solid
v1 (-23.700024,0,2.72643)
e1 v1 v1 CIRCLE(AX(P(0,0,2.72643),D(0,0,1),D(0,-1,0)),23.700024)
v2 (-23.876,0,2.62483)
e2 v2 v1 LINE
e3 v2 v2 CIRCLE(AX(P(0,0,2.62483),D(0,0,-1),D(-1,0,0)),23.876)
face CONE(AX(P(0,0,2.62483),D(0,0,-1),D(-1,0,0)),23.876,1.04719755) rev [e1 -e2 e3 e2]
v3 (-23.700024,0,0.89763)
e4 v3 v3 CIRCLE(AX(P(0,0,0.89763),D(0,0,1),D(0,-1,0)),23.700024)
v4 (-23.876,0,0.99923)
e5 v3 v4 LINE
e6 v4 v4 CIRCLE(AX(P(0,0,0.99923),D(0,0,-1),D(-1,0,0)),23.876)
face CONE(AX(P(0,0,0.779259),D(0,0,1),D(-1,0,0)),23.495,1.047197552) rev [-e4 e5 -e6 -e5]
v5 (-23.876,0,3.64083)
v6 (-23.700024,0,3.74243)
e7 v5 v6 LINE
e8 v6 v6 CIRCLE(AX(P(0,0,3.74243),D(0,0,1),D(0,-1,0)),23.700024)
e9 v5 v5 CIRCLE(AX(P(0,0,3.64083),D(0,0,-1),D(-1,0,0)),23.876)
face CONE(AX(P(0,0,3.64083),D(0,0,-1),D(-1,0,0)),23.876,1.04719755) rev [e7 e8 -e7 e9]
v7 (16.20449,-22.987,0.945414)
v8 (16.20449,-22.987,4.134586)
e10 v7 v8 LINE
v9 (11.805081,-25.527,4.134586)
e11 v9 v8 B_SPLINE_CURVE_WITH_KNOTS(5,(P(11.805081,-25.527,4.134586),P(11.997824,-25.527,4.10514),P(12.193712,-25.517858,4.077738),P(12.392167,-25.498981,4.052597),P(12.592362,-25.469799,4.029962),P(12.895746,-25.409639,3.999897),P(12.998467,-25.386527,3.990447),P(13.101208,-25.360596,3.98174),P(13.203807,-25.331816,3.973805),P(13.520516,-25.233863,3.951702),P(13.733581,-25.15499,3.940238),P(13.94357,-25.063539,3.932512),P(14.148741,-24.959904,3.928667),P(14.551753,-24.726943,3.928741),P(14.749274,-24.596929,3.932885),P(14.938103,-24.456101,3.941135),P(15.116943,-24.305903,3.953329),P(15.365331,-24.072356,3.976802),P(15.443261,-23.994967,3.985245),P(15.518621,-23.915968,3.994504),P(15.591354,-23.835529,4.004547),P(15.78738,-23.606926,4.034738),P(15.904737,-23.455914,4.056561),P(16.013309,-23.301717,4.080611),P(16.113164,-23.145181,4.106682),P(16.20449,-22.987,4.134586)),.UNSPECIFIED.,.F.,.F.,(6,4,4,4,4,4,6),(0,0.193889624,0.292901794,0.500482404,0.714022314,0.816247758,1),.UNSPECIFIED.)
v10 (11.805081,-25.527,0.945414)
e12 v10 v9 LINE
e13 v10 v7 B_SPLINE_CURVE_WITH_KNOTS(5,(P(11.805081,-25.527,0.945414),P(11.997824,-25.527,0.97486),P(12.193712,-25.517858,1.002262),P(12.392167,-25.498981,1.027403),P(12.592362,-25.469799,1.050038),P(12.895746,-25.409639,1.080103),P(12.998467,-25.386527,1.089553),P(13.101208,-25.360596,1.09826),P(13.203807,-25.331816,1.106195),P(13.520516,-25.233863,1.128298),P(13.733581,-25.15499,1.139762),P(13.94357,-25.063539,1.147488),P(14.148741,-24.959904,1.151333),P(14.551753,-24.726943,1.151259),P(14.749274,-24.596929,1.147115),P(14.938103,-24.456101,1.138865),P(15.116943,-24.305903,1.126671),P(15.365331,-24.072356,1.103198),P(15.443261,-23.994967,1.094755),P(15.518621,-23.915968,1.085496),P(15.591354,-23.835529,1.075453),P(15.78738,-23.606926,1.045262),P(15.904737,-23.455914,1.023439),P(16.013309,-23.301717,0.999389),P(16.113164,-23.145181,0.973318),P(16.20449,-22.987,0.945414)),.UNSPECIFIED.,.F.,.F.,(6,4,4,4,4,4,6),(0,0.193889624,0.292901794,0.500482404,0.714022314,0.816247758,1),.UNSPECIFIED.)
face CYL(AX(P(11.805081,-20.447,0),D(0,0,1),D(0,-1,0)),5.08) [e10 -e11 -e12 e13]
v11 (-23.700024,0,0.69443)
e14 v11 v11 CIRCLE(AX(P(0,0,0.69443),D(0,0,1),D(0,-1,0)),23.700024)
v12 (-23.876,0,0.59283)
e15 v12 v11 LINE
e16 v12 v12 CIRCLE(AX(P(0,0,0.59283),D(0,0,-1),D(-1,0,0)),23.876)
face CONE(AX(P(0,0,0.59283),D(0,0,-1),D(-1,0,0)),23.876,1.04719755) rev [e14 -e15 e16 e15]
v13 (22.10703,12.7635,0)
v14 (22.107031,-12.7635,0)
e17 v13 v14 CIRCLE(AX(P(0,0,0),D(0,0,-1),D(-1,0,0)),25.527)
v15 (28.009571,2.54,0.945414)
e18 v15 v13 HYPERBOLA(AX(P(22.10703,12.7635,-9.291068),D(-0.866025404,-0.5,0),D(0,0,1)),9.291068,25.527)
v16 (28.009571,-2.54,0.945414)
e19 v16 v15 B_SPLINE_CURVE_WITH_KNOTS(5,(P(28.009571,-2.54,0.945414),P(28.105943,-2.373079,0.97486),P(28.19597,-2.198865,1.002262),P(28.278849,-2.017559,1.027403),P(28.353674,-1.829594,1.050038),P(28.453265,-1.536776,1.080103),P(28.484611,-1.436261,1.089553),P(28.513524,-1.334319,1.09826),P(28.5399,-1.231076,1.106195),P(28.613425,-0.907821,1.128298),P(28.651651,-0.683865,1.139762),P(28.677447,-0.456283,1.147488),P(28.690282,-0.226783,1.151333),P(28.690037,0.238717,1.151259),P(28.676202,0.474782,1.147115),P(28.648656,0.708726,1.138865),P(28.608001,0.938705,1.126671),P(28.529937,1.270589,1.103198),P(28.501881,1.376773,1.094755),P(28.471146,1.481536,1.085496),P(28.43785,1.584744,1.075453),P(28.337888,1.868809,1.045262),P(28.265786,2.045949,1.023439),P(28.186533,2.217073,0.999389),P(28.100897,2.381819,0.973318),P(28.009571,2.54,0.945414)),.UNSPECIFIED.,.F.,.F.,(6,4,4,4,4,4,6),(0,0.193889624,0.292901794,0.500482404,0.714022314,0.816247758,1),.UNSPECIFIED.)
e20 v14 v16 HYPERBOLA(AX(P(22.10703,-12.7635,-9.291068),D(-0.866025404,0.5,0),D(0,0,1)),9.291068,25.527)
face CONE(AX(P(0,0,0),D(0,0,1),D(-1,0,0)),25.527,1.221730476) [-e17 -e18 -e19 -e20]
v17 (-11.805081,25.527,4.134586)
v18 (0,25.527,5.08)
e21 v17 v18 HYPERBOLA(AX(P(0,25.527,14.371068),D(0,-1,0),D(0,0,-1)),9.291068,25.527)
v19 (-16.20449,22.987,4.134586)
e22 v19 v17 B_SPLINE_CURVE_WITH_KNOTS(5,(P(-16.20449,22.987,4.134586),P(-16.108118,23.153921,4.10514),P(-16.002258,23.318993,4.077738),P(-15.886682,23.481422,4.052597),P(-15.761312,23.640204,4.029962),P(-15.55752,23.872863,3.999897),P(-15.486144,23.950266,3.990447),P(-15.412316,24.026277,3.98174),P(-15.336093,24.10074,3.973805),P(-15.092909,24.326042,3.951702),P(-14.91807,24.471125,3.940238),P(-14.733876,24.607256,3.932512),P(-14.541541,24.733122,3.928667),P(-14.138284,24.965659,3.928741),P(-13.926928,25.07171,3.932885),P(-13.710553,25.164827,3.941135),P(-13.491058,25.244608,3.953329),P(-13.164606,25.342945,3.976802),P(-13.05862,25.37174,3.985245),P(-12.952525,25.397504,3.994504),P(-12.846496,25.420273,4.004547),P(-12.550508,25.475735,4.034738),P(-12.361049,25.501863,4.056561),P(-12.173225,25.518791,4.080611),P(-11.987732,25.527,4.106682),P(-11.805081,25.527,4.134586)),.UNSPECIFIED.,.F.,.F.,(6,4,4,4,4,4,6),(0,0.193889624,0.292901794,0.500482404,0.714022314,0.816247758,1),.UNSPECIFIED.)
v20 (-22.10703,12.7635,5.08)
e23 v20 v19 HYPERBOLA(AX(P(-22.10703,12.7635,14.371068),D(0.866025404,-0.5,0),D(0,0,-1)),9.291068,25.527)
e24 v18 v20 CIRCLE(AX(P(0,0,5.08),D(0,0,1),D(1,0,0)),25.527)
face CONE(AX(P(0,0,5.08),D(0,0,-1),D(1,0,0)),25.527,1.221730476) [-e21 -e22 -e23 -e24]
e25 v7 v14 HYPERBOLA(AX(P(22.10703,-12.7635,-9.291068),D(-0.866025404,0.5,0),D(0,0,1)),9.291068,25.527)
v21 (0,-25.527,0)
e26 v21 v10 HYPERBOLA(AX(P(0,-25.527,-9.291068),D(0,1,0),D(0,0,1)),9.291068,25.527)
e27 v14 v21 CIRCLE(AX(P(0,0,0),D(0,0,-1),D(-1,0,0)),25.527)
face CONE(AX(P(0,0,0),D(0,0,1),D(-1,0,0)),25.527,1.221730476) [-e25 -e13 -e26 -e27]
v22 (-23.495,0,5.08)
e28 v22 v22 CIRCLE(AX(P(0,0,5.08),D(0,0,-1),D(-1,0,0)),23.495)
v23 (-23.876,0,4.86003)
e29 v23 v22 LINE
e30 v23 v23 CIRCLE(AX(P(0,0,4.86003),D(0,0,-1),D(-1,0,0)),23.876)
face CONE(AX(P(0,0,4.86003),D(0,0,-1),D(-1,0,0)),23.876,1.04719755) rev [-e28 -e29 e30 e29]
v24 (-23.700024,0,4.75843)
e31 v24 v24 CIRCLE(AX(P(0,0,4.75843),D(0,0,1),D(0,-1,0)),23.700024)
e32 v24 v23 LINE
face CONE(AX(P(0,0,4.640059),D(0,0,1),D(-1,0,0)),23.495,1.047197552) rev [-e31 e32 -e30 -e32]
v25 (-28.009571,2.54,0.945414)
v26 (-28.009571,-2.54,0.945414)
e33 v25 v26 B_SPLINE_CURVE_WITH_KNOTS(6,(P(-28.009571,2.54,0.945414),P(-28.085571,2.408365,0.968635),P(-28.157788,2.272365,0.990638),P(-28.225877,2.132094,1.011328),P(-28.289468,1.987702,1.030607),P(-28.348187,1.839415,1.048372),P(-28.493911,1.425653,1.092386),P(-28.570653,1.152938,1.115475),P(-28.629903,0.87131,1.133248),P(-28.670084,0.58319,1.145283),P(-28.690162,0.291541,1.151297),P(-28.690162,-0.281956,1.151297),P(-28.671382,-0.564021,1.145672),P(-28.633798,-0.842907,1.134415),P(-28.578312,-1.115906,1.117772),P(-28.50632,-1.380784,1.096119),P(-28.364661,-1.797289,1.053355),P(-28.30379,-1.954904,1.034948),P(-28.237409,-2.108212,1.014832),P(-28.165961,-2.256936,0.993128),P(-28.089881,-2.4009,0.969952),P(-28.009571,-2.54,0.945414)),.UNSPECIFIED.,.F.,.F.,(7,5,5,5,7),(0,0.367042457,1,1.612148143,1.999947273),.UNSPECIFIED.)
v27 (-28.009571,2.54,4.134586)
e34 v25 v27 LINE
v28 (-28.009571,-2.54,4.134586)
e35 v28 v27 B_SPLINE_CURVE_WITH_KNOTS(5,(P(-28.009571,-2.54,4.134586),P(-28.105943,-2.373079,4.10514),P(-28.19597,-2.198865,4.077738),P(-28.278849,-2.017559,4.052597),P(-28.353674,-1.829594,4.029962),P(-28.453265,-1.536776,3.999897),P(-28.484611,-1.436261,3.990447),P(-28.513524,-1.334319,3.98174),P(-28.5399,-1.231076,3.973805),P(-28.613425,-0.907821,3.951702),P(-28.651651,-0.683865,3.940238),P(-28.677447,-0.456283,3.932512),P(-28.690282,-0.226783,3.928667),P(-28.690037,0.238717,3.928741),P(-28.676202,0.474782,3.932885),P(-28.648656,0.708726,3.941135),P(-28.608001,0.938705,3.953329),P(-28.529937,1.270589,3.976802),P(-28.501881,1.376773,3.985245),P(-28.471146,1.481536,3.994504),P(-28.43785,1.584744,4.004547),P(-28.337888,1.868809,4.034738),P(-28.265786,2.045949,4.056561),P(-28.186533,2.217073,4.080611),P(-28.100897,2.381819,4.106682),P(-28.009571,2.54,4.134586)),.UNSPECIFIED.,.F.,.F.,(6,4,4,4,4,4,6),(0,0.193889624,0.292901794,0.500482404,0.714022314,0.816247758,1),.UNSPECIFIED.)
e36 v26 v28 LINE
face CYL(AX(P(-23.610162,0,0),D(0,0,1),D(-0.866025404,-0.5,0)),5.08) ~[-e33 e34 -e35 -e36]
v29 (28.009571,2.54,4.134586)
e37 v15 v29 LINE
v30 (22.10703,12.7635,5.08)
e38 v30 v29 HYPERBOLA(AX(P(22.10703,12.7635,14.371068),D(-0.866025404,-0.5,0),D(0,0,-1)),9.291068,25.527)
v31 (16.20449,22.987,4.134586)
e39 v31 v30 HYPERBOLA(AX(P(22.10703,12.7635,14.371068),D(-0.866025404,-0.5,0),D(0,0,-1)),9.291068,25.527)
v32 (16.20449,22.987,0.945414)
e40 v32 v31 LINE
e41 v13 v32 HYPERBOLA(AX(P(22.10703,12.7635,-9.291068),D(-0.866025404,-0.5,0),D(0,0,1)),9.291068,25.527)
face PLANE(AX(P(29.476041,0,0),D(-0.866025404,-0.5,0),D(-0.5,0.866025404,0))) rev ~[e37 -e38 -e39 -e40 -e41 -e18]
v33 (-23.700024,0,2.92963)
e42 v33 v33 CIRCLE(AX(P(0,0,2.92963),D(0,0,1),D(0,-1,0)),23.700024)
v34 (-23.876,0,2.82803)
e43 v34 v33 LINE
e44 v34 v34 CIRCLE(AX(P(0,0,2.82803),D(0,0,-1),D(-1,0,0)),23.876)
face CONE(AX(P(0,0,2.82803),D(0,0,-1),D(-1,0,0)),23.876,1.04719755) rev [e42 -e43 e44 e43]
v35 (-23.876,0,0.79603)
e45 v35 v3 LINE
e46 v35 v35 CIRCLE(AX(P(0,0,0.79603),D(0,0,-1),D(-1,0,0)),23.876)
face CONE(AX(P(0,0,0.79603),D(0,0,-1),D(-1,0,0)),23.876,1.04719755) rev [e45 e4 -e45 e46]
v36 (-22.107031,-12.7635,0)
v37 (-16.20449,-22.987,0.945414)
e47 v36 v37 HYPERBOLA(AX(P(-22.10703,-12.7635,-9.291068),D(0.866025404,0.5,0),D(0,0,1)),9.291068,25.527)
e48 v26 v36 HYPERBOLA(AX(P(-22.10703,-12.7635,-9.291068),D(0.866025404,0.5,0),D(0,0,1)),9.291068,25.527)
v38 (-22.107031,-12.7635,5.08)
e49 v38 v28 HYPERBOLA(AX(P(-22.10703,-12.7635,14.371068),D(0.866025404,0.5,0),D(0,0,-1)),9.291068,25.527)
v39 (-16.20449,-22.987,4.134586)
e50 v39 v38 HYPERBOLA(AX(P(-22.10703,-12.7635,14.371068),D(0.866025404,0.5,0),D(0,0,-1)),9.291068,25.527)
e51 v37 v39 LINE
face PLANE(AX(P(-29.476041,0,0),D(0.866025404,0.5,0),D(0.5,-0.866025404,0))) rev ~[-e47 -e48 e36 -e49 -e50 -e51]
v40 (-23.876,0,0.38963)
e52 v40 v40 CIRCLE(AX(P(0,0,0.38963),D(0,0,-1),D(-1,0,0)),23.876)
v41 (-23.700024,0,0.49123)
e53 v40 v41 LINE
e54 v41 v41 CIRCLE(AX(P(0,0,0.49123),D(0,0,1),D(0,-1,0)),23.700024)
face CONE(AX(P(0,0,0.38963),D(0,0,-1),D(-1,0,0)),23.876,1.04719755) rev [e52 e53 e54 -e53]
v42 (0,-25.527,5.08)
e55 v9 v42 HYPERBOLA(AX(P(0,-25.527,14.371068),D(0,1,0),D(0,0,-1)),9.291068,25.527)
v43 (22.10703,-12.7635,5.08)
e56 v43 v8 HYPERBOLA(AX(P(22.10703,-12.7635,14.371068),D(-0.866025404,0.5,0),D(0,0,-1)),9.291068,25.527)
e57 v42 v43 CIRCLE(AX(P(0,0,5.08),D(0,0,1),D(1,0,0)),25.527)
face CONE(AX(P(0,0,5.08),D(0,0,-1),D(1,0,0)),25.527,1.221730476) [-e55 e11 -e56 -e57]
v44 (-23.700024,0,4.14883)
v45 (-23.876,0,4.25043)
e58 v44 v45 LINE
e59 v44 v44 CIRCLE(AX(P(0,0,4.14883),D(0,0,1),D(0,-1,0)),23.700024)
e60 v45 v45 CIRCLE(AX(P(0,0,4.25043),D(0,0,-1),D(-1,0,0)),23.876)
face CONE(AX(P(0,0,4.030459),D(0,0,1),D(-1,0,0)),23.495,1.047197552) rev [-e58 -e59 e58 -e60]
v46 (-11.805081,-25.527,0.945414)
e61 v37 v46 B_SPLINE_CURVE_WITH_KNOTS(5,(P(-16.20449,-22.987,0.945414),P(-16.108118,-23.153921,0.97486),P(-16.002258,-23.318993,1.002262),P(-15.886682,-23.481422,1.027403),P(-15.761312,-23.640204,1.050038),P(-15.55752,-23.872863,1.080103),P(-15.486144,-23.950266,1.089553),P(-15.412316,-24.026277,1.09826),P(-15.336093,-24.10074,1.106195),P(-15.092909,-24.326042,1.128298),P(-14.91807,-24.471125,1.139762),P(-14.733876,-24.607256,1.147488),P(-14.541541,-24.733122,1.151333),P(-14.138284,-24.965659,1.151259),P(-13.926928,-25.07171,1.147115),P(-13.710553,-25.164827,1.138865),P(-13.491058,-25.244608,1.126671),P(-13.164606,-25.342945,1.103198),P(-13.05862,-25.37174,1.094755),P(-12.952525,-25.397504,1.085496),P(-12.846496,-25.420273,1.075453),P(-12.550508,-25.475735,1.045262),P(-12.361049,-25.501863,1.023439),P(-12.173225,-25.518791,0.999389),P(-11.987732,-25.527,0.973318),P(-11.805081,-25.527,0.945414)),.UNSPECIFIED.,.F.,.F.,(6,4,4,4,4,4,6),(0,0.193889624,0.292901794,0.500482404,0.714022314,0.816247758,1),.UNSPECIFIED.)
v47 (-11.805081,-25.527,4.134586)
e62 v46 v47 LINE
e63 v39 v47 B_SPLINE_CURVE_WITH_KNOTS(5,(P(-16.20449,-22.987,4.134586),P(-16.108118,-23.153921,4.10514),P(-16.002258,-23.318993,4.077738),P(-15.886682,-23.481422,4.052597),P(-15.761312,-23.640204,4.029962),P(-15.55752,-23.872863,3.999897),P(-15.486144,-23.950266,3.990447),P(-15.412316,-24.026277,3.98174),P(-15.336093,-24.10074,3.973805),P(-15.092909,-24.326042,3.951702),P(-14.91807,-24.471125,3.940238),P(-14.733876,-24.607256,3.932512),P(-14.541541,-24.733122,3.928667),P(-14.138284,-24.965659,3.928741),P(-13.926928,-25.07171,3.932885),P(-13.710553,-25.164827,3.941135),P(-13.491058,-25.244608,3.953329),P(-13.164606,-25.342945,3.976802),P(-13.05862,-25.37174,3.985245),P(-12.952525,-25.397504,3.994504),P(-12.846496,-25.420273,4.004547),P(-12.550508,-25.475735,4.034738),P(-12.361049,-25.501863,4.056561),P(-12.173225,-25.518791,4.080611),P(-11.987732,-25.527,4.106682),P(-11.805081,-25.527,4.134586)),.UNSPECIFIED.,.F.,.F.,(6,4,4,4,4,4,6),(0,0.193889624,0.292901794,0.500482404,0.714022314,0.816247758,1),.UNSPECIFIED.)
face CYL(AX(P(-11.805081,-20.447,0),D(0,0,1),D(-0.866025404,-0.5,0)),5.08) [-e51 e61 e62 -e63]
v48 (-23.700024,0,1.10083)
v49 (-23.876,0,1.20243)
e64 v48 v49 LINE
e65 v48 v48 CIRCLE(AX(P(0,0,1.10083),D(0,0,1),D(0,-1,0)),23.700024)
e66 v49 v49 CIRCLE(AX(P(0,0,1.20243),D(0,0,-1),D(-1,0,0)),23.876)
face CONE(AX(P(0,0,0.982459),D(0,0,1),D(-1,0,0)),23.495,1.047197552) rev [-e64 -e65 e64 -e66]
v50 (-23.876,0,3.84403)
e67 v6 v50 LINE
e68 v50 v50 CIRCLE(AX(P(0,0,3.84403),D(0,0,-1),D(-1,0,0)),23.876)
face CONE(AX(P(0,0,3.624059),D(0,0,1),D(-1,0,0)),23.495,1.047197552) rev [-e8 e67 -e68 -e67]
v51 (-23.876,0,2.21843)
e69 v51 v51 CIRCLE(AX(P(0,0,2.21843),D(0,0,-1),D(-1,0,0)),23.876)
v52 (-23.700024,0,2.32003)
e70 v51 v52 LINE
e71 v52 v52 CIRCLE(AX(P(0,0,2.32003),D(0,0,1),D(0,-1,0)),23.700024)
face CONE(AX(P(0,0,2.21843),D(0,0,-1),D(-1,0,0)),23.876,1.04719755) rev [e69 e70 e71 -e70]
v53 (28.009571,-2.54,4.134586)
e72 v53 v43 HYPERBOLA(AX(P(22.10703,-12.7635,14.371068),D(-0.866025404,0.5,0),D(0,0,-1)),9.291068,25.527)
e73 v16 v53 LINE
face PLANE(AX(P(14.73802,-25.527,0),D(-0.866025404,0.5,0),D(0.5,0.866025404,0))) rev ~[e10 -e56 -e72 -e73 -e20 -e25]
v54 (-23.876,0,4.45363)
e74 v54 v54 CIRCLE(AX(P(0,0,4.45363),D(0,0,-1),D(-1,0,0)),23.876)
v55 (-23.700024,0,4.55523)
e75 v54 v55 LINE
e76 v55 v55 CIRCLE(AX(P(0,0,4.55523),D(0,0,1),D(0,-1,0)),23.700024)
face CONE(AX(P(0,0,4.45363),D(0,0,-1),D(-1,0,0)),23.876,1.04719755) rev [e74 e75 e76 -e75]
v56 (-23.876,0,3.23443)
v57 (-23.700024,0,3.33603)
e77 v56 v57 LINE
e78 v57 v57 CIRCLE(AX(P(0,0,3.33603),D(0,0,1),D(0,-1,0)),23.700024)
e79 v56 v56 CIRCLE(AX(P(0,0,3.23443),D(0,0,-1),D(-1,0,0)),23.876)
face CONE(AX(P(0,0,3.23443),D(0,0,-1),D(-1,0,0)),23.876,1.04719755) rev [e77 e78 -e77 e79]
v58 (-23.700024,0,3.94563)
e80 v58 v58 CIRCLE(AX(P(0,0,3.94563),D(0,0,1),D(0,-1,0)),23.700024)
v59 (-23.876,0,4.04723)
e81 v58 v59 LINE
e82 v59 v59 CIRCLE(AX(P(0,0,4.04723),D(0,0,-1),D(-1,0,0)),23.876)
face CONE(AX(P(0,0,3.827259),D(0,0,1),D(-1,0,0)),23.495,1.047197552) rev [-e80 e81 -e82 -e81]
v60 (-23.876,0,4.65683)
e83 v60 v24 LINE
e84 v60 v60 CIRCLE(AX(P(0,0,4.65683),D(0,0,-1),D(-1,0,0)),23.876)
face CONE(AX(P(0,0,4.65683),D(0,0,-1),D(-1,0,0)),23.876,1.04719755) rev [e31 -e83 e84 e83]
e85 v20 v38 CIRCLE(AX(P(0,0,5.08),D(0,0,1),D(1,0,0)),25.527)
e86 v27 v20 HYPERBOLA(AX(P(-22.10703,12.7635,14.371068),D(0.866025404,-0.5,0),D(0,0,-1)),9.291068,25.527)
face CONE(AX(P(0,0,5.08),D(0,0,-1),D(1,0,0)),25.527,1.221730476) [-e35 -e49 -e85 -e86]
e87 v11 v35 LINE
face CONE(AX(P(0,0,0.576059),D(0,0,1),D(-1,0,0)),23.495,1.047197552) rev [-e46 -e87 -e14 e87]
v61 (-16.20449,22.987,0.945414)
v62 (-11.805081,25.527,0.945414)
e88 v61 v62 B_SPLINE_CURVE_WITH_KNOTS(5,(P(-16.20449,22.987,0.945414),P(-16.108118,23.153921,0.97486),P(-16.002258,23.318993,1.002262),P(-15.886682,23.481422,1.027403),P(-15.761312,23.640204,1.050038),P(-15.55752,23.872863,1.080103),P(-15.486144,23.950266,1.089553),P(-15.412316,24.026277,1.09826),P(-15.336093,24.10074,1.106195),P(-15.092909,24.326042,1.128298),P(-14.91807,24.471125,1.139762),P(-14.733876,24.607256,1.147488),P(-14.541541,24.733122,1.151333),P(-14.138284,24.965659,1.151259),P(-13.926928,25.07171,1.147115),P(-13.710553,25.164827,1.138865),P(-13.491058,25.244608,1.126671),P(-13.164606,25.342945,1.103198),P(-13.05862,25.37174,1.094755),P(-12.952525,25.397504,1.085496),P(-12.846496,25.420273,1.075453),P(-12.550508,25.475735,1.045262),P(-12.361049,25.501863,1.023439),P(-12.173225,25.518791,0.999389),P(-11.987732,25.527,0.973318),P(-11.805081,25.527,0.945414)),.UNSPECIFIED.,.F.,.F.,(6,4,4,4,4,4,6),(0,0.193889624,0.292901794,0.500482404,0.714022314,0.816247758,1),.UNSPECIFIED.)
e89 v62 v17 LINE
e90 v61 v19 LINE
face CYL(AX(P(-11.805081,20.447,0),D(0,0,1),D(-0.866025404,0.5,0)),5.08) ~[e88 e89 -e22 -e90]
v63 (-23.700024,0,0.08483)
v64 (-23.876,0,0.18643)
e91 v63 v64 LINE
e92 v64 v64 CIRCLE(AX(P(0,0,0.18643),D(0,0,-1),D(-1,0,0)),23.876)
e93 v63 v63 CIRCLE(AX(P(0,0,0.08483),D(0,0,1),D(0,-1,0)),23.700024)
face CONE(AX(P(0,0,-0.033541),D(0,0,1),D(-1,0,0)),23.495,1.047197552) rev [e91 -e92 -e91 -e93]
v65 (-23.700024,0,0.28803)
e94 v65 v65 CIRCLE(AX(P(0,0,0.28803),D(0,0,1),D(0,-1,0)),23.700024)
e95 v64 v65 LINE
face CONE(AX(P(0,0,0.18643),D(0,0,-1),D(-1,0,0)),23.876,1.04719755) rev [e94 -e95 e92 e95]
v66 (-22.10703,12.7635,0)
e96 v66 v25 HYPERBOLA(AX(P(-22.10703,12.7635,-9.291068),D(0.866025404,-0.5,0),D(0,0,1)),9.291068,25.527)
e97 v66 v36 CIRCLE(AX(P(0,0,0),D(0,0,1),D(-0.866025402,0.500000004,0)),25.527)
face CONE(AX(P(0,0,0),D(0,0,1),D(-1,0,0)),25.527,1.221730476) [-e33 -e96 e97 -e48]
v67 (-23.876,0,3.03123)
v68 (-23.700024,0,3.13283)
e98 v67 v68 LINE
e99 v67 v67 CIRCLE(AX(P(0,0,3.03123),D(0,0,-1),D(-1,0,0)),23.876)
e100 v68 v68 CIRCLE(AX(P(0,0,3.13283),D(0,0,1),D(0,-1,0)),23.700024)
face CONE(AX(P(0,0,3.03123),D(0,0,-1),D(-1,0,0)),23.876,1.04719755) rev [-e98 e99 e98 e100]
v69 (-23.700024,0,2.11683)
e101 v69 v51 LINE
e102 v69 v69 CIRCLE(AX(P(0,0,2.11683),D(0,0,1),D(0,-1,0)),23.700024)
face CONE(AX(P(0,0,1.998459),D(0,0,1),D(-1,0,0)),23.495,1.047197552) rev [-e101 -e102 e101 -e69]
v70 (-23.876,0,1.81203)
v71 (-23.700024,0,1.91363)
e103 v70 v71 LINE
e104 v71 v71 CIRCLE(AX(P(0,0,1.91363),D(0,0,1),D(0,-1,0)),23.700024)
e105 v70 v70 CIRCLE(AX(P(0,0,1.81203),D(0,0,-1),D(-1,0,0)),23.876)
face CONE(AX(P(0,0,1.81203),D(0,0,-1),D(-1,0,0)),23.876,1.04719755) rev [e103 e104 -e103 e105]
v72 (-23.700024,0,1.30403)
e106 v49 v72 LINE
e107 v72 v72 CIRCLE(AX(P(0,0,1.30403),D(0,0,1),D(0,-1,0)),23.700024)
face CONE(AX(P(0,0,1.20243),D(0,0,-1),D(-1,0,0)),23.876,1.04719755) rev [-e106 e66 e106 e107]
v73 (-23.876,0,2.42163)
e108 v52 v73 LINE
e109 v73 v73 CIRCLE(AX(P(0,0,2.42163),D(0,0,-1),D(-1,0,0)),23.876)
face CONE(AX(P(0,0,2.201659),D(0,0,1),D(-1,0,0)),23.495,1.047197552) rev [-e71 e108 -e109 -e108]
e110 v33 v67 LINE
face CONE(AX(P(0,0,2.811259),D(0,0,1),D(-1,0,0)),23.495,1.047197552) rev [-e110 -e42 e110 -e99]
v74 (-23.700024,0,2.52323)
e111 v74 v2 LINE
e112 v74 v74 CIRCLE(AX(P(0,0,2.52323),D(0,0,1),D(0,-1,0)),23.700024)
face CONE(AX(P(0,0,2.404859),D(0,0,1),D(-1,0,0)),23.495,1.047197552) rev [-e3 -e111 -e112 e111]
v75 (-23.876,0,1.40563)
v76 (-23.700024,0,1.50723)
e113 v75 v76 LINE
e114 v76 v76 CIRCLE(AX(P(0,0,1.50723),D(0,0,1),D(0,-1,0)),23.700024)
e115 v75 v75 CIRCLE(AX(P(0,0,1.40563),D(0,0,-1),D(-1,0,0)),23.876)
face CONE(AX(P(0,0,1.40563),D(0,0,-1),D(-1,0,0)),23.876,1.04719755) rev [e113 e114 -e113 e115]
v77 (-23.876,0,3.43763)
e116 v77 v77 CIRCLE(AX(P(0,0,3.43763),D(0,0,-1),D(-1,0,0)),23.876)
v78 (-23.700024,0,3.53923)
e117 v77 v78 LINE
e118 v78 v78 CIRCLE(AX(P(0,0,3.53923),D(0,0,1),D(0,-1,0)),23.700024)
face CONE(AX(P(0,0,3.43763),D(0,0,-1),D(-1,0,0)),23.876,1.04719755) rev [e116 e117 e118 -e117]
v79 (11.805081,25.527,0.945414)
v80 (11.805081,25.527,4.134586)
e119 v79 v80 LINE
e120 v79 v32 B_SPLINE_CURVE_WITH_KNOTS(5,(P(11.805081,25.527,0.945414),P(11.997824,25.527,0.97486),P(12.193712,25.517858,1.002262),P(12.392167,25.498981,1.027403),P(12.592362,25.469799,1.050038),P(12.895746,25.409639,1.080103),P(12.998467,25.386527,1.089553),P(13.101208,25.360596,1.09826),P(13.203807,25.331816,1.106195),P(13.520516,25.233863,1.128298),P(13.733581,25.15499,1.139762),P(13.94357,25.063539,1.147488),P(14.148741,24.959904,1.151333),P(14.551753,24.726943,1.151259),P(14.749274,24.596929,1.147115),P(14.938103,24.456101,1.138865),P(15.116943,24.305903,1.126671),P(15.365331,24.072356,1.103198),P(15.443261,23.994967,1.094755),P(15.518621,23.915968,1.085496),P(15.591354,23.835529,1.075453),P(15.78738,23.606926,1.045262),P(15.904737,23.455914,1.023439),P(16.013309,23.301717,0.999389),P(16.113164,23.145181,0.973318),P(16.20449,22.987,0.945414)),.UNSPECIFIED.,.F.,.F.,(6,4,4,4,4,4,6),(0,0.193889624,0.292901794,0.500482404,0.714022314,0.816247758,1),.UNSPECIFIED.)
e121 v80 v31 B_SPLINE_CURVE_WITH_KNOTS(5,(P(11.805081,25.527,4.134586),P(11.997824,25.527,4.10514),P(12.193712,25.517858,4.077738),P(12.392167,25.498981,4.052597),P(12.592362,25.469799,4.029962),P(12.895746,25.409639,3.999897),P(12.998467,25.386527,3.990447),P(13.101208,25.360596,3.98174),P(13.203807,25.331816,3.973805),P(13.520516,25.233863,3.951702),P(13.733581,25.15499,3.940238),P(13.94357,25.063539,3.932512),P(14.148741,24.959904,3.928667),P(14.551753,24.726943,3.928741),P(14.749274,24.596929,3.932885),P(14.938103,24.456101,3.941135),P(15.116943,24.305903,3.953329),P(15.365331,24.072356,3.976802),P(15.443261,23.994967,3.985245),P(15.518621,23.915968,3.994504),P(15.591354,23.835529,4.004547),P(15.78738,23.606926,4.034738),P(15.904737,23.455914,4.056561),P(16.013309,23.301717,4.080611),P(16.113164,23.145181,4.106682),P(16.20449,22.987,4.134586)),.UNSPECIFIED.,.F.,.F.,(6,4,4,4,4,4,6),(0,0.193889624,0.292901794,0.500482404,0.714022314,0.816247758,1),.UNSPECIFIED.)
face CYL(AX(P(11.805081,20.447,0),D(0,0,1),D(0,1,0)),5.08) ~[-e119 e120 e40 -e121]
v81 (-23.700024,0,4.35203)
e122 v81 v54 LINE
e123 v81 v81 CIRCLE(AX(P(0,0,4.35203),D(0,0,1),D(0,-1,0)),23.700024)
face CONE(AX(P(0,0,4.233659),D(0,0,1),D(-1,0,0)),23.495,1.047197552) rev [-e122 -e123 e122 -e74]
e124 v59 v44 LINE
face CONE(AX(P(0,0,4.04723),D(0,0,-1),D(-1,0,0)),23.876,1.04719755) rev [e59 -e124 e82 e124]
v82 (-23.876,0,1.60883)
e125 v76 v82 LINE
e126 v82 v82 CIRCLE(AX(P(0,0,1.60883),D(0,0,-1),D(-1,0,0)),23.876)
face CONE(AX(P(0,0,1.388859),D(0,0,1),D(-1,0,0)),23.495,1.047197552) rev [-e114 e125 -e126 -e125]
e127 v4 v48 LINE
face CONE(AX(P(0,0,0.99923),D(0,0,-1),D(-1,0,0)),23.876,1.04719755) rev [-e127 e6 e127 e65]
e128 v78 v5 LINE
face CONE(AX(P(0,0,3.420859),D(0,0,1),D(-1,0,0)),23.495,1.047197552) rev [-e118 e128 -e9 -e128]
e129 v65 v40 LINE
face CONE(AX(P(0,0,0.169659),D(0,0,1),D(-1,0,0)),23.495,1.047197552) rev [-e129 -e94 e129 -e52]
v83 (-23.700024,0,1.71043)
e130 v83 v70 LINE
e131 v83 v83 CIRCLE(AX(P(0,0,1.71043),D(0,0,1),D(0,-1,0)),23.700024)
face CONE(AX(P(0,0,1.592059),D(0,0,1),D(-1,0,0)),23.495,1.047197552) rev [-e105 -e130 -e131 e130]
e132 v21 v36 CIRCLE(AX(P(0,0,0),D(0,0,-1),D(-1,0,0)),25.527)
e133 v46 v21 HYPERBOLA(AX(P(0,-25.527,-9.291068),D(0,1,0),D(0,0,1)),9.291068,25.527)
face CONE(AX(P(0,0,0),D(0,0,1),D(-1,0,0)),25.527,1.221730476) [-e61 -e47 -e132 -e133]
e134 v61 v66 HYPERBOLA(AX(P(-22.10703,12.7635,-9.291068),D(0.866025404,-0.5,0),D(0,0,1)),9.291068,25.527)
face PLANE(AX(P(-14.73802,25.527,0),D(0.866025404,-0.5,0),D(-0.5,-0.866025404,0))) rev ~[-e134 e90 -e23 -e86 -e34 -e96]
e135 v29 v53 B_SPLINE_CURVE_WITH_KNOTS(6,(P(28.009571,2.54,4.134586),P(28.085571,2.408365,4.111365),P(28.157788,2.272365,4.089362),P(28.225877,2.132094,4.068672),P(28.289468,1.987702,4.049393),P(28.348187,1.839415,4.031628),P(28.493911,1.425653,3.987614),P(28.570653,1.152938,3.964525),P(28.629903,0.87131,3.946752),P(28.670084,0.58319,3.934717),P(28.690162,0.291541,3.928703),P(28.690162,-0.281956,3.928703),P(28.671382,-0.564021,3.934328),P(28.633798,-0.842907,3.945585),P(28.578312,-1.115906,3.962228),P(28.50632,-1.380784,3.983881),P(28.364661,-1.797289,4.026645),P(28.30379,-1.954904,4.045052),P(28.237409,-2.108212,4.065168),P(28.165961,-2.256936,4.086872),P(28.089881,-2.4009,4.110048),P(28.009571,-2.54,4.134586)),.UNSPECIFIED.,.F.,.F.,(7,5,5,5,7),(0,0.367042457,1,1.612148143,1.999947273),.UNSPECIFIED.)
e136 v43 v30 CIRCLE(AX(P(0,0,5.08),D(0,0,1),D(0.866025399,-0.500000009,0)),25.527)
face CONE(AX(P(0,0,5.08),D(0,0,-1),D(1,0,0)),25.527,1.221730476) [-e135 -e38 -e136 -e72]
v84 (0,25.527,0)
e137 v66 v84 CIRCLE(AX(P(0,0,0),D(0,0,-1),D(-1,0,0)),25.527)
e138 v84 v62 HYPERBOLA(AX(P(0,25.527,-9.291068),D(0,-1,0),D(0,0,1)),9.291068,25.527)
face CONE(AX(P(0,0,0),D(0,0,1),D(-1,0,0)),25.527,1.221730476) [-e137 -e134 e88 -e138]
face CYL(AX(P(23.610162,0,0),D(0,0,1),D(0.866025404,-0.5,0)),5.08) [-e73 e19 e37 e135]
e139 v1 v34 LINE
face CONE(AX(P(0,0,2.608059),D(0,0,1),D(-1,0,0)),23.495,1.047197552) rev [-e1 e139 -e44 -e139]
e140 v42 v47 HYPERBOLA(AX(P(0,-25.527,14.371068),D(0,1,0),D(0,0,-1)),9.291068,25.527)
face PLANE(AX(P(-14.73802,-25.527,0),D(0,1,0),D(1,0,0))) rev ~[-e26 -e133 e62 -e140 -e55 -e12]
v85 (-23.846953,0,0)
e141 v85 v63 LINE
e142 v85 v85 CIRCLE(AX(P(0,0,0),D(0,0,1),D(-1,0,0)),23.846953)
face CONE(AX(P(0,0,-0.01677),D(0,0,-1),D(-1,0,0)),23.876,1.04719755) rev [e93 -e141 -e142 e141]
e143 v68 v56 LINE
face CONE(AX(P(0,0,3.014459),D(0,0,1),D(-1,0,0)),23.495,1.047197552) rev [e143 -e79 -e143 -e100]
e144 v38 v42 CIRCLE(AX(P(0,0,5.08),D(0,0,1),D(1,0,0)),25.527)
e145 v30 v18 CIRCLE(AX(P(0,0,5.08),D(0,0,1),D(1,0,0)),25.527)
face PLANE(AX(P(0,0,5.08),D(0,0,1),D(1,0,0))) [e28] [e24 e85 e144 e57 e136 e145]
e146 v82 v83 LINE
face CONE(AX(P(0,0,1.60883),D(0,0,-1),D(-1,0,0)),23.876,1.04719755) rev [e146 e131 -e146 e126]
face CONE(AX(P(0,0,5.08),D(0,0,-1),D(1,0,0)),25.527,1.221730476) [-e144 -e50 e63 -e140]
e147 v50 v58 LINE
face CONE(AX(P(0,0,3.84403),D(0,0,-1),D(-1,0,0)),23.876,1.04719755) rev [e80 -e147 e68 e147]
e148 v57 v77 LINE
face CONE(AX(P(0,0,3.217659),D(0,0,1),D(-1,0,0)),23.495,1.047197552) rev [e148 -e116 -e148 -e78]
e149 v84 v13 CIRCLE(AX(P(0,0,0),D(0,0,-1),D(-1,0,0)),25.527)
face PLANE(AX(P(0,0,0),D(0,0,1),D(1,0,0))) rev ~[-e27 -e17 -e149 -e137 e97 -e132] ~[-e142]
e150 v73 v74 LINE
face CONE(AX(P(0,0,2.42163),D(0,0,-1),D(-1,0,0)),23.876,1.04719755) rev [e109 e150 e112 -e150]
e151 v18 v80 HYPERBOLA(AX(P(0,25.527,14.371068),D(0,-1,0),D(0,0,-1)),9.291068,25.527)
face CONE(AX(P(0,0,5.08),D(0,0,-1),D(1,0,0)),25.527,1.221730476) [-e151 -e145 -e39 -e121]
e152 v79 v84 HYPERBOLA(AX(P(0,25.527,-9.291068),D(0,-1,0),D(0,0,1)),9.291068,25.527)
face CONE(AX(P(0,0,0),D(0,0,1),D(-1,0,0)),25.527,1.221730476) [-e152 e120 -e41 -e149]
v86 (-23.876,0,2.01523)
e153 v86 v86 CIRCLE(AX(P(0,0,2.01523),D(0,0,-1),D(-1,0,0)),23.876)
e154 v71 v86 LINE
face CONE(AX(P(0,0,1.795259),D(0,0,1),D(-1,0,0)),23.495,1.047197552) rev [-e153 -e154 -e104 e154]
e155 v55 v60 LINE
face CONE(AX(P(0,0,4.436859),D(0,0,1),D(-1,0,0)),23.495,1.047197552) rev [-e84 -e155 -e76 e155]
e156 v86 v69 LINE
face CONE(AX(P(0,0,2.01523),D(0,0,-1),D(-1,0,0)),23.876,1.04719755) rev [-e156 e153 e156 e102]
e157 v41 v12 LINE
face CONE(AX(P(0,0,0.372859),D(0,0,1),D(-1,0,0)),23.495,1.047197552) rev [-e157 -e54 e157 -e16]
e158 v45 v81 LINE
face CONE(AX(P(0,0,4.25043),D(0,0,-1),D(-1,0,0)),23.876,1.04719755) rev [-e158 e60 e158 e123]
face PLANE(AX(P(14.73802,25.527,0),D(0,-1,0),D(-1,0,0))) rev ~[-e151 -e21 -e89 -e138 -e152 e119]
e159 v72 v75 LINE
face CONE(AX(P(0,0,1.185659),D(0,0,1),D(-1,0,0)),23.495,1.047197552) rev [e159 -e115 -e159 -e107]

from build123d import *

# Parameters (mm, degrees)
SKETCH1_R          = 23.495
EXTRUDE1_DEPTH     = 5.08
FILLET1_R          = 5.08
SKETCH2_OUTSIDE_W  = 108.184
SKETCH2_OUTSIDE_H  = 101.858
SKETCH2_OUTSIDE_R  = 25.527
CUT_EXTRUDE1_DEPTH = 6.08
CUT_EXTRUDE1_DRAFT = -70
SKETCH3_OUTSIDE_W  = 108.184
SKETCH3_OUTSIDE_H  = 101.858
SKETCH3_OUTSIDE_R  = 25.527
CUT_EXTRUDE2_DEPTH = 6.0800001
CUT_EXTRUDE2_DRAFT = -70
LPATTERN1_COUNT    = 25
LPATTERN1_PITCH    = 0.2032


with BuildPart() as part:
    # Sketch1 → Extrude1 (new body)
    with BuildSketch(Plane.XY):
        Polygon((-29.476040643, 0), (-14.738020322, -25.527), (14.738020322, -25.527), (29.476040643, 0), (14.738020322, 25.527), (-14.738020322, 25.527), align=None)
        Circle(SKETCH1_R, mode=Mode.SUBTRACT)
    extrude(amount=EXTRUDE1_DEPTH)

    # Fillet1
    fillet1_edges = [part.edges().sort_by_distance(p)[0] for p in [
        (29.476040643, 0, 2.54),
        (14.738020322, -25.527, 2.54),
        (-14.738020322, -25.527, 2.54),
        (-29.476040643, 0, 2.54),
        (-14.738020322, 25.527, 2.54),
        (14.738020322, 25.527, 2.54),
    ]]
    fillet(fillet1_edges, radius=FILLET1_R)


with BuildPart() as cut_extrude1_tool:
    # Sketch2 outside → Cut-Extrude1 (with draft: the straight prism first)
    with BuildSketch(Plane.XY.offset(5.08)):
        Rectangle(SKETCH2_OUTSIDE_W, SKETCH2_OUTSIDE_H)
        Circle(SKETCH2_OUTSIDE_R, mode=Mode.SUBTRACT)
    extrude(amount=-CUT_EXTRUDE1_DEPTH)
    # Cut-Extrude1: the draft: its side faces are tilted about the plane it starts from
    cut_extrude1_sides = [cut_extrude1_tool.faces().sort_by_distance(p)[0] for p in [
        (0, -50.929, 2.04),
        (54.092, 0, 2.04),
        (0, 50.929, 2.04),
        (-54.092, 0, 2.04),
        (-25.527, 0, 2.04),
    ]]
    draft(cut_extrude1_sides, Plane.XY.offset(5.08), CUT_EXTRUDE1_DRAFT)


with BuildPart() as part_1:
    add(part.part)

    # Cut-Extrude1: cut by cut_extrude1_tool
    add(cut_extrude1_tool.part, mode=Mode.SUBTRACT)


with BuildPart() as cut_extrude2_tool:
    # Sketch3 outside → Cut-Extrude2 (with draft: the straight prism first)
    with BuildSketch(Plane(origin=(0, 0, 0), x_dir=(-1, 0, 0), z_dir=(0, 0, -1))):
        Rectangle(SKETCH3_OUTSIDE_W, SKETCH3_OUTSIDE_H)
        Circle(SKETCH3_OUTSIDE_R, mode=Mode.SUBTRACT)
    extrude(amount=-CUT_EXTRUDE2_DEPTH)
    # Cut-Extrude2: the draft: its side faces are tilted about the plane it starts from
    cut_extrude2_sides = [cut_extrude2_tool.faces().sort_by_distance(p)[0] for p in [
        (0, -50.929, 3.04000005),
        (-54.092, 0, 3.04000005),
        (0, 50.929, 3.04000005),
        (54.092, 0, 3.04000005),
        (25.527, 0, 3.04000005),
    ]]
    draft(cut_extrude2_sides, Plane(origin=(0, 0, 0), x_dir=(-1, 0, 0), z_dir=(0, 0, -1)), CUT_EXTRUDE2_DRAFT)


with BuildPart() as part_2:
    add(part_1.part)

    # Cut-Extrude2: cut by cut_extrude2_tool
    add(cut_extrude2_tool.part, mode=Mode.SUBTRACT)

    # Sketch4 → Cut-Revolve1 (revolve, cut)
    with BuildSketch(Plane(origin=(0, 0, 0), x_dir=(1, 0, 0), z_dir=(0, 1, 0))):
        Polygon((-23.495, -5.08), (-23.495, -4.640059095), (-23.876, -4.860029547), align=None)
    cut_revolve1 = revolve(axis=Axis((0, 0, 5.08), (0, 0, -1)), mode=Mode.SUBTRACT)

    # LPattern1: Cut-Revolve1 ×25
    with Locations(*[(0, 0, -i * LPATTERN1_PITCH) for i in range(1, LPATTERN1_COUNT)]):
        add(cut_revolve1, mode=Mode.SUBTRACT)


solid = part_2.part
